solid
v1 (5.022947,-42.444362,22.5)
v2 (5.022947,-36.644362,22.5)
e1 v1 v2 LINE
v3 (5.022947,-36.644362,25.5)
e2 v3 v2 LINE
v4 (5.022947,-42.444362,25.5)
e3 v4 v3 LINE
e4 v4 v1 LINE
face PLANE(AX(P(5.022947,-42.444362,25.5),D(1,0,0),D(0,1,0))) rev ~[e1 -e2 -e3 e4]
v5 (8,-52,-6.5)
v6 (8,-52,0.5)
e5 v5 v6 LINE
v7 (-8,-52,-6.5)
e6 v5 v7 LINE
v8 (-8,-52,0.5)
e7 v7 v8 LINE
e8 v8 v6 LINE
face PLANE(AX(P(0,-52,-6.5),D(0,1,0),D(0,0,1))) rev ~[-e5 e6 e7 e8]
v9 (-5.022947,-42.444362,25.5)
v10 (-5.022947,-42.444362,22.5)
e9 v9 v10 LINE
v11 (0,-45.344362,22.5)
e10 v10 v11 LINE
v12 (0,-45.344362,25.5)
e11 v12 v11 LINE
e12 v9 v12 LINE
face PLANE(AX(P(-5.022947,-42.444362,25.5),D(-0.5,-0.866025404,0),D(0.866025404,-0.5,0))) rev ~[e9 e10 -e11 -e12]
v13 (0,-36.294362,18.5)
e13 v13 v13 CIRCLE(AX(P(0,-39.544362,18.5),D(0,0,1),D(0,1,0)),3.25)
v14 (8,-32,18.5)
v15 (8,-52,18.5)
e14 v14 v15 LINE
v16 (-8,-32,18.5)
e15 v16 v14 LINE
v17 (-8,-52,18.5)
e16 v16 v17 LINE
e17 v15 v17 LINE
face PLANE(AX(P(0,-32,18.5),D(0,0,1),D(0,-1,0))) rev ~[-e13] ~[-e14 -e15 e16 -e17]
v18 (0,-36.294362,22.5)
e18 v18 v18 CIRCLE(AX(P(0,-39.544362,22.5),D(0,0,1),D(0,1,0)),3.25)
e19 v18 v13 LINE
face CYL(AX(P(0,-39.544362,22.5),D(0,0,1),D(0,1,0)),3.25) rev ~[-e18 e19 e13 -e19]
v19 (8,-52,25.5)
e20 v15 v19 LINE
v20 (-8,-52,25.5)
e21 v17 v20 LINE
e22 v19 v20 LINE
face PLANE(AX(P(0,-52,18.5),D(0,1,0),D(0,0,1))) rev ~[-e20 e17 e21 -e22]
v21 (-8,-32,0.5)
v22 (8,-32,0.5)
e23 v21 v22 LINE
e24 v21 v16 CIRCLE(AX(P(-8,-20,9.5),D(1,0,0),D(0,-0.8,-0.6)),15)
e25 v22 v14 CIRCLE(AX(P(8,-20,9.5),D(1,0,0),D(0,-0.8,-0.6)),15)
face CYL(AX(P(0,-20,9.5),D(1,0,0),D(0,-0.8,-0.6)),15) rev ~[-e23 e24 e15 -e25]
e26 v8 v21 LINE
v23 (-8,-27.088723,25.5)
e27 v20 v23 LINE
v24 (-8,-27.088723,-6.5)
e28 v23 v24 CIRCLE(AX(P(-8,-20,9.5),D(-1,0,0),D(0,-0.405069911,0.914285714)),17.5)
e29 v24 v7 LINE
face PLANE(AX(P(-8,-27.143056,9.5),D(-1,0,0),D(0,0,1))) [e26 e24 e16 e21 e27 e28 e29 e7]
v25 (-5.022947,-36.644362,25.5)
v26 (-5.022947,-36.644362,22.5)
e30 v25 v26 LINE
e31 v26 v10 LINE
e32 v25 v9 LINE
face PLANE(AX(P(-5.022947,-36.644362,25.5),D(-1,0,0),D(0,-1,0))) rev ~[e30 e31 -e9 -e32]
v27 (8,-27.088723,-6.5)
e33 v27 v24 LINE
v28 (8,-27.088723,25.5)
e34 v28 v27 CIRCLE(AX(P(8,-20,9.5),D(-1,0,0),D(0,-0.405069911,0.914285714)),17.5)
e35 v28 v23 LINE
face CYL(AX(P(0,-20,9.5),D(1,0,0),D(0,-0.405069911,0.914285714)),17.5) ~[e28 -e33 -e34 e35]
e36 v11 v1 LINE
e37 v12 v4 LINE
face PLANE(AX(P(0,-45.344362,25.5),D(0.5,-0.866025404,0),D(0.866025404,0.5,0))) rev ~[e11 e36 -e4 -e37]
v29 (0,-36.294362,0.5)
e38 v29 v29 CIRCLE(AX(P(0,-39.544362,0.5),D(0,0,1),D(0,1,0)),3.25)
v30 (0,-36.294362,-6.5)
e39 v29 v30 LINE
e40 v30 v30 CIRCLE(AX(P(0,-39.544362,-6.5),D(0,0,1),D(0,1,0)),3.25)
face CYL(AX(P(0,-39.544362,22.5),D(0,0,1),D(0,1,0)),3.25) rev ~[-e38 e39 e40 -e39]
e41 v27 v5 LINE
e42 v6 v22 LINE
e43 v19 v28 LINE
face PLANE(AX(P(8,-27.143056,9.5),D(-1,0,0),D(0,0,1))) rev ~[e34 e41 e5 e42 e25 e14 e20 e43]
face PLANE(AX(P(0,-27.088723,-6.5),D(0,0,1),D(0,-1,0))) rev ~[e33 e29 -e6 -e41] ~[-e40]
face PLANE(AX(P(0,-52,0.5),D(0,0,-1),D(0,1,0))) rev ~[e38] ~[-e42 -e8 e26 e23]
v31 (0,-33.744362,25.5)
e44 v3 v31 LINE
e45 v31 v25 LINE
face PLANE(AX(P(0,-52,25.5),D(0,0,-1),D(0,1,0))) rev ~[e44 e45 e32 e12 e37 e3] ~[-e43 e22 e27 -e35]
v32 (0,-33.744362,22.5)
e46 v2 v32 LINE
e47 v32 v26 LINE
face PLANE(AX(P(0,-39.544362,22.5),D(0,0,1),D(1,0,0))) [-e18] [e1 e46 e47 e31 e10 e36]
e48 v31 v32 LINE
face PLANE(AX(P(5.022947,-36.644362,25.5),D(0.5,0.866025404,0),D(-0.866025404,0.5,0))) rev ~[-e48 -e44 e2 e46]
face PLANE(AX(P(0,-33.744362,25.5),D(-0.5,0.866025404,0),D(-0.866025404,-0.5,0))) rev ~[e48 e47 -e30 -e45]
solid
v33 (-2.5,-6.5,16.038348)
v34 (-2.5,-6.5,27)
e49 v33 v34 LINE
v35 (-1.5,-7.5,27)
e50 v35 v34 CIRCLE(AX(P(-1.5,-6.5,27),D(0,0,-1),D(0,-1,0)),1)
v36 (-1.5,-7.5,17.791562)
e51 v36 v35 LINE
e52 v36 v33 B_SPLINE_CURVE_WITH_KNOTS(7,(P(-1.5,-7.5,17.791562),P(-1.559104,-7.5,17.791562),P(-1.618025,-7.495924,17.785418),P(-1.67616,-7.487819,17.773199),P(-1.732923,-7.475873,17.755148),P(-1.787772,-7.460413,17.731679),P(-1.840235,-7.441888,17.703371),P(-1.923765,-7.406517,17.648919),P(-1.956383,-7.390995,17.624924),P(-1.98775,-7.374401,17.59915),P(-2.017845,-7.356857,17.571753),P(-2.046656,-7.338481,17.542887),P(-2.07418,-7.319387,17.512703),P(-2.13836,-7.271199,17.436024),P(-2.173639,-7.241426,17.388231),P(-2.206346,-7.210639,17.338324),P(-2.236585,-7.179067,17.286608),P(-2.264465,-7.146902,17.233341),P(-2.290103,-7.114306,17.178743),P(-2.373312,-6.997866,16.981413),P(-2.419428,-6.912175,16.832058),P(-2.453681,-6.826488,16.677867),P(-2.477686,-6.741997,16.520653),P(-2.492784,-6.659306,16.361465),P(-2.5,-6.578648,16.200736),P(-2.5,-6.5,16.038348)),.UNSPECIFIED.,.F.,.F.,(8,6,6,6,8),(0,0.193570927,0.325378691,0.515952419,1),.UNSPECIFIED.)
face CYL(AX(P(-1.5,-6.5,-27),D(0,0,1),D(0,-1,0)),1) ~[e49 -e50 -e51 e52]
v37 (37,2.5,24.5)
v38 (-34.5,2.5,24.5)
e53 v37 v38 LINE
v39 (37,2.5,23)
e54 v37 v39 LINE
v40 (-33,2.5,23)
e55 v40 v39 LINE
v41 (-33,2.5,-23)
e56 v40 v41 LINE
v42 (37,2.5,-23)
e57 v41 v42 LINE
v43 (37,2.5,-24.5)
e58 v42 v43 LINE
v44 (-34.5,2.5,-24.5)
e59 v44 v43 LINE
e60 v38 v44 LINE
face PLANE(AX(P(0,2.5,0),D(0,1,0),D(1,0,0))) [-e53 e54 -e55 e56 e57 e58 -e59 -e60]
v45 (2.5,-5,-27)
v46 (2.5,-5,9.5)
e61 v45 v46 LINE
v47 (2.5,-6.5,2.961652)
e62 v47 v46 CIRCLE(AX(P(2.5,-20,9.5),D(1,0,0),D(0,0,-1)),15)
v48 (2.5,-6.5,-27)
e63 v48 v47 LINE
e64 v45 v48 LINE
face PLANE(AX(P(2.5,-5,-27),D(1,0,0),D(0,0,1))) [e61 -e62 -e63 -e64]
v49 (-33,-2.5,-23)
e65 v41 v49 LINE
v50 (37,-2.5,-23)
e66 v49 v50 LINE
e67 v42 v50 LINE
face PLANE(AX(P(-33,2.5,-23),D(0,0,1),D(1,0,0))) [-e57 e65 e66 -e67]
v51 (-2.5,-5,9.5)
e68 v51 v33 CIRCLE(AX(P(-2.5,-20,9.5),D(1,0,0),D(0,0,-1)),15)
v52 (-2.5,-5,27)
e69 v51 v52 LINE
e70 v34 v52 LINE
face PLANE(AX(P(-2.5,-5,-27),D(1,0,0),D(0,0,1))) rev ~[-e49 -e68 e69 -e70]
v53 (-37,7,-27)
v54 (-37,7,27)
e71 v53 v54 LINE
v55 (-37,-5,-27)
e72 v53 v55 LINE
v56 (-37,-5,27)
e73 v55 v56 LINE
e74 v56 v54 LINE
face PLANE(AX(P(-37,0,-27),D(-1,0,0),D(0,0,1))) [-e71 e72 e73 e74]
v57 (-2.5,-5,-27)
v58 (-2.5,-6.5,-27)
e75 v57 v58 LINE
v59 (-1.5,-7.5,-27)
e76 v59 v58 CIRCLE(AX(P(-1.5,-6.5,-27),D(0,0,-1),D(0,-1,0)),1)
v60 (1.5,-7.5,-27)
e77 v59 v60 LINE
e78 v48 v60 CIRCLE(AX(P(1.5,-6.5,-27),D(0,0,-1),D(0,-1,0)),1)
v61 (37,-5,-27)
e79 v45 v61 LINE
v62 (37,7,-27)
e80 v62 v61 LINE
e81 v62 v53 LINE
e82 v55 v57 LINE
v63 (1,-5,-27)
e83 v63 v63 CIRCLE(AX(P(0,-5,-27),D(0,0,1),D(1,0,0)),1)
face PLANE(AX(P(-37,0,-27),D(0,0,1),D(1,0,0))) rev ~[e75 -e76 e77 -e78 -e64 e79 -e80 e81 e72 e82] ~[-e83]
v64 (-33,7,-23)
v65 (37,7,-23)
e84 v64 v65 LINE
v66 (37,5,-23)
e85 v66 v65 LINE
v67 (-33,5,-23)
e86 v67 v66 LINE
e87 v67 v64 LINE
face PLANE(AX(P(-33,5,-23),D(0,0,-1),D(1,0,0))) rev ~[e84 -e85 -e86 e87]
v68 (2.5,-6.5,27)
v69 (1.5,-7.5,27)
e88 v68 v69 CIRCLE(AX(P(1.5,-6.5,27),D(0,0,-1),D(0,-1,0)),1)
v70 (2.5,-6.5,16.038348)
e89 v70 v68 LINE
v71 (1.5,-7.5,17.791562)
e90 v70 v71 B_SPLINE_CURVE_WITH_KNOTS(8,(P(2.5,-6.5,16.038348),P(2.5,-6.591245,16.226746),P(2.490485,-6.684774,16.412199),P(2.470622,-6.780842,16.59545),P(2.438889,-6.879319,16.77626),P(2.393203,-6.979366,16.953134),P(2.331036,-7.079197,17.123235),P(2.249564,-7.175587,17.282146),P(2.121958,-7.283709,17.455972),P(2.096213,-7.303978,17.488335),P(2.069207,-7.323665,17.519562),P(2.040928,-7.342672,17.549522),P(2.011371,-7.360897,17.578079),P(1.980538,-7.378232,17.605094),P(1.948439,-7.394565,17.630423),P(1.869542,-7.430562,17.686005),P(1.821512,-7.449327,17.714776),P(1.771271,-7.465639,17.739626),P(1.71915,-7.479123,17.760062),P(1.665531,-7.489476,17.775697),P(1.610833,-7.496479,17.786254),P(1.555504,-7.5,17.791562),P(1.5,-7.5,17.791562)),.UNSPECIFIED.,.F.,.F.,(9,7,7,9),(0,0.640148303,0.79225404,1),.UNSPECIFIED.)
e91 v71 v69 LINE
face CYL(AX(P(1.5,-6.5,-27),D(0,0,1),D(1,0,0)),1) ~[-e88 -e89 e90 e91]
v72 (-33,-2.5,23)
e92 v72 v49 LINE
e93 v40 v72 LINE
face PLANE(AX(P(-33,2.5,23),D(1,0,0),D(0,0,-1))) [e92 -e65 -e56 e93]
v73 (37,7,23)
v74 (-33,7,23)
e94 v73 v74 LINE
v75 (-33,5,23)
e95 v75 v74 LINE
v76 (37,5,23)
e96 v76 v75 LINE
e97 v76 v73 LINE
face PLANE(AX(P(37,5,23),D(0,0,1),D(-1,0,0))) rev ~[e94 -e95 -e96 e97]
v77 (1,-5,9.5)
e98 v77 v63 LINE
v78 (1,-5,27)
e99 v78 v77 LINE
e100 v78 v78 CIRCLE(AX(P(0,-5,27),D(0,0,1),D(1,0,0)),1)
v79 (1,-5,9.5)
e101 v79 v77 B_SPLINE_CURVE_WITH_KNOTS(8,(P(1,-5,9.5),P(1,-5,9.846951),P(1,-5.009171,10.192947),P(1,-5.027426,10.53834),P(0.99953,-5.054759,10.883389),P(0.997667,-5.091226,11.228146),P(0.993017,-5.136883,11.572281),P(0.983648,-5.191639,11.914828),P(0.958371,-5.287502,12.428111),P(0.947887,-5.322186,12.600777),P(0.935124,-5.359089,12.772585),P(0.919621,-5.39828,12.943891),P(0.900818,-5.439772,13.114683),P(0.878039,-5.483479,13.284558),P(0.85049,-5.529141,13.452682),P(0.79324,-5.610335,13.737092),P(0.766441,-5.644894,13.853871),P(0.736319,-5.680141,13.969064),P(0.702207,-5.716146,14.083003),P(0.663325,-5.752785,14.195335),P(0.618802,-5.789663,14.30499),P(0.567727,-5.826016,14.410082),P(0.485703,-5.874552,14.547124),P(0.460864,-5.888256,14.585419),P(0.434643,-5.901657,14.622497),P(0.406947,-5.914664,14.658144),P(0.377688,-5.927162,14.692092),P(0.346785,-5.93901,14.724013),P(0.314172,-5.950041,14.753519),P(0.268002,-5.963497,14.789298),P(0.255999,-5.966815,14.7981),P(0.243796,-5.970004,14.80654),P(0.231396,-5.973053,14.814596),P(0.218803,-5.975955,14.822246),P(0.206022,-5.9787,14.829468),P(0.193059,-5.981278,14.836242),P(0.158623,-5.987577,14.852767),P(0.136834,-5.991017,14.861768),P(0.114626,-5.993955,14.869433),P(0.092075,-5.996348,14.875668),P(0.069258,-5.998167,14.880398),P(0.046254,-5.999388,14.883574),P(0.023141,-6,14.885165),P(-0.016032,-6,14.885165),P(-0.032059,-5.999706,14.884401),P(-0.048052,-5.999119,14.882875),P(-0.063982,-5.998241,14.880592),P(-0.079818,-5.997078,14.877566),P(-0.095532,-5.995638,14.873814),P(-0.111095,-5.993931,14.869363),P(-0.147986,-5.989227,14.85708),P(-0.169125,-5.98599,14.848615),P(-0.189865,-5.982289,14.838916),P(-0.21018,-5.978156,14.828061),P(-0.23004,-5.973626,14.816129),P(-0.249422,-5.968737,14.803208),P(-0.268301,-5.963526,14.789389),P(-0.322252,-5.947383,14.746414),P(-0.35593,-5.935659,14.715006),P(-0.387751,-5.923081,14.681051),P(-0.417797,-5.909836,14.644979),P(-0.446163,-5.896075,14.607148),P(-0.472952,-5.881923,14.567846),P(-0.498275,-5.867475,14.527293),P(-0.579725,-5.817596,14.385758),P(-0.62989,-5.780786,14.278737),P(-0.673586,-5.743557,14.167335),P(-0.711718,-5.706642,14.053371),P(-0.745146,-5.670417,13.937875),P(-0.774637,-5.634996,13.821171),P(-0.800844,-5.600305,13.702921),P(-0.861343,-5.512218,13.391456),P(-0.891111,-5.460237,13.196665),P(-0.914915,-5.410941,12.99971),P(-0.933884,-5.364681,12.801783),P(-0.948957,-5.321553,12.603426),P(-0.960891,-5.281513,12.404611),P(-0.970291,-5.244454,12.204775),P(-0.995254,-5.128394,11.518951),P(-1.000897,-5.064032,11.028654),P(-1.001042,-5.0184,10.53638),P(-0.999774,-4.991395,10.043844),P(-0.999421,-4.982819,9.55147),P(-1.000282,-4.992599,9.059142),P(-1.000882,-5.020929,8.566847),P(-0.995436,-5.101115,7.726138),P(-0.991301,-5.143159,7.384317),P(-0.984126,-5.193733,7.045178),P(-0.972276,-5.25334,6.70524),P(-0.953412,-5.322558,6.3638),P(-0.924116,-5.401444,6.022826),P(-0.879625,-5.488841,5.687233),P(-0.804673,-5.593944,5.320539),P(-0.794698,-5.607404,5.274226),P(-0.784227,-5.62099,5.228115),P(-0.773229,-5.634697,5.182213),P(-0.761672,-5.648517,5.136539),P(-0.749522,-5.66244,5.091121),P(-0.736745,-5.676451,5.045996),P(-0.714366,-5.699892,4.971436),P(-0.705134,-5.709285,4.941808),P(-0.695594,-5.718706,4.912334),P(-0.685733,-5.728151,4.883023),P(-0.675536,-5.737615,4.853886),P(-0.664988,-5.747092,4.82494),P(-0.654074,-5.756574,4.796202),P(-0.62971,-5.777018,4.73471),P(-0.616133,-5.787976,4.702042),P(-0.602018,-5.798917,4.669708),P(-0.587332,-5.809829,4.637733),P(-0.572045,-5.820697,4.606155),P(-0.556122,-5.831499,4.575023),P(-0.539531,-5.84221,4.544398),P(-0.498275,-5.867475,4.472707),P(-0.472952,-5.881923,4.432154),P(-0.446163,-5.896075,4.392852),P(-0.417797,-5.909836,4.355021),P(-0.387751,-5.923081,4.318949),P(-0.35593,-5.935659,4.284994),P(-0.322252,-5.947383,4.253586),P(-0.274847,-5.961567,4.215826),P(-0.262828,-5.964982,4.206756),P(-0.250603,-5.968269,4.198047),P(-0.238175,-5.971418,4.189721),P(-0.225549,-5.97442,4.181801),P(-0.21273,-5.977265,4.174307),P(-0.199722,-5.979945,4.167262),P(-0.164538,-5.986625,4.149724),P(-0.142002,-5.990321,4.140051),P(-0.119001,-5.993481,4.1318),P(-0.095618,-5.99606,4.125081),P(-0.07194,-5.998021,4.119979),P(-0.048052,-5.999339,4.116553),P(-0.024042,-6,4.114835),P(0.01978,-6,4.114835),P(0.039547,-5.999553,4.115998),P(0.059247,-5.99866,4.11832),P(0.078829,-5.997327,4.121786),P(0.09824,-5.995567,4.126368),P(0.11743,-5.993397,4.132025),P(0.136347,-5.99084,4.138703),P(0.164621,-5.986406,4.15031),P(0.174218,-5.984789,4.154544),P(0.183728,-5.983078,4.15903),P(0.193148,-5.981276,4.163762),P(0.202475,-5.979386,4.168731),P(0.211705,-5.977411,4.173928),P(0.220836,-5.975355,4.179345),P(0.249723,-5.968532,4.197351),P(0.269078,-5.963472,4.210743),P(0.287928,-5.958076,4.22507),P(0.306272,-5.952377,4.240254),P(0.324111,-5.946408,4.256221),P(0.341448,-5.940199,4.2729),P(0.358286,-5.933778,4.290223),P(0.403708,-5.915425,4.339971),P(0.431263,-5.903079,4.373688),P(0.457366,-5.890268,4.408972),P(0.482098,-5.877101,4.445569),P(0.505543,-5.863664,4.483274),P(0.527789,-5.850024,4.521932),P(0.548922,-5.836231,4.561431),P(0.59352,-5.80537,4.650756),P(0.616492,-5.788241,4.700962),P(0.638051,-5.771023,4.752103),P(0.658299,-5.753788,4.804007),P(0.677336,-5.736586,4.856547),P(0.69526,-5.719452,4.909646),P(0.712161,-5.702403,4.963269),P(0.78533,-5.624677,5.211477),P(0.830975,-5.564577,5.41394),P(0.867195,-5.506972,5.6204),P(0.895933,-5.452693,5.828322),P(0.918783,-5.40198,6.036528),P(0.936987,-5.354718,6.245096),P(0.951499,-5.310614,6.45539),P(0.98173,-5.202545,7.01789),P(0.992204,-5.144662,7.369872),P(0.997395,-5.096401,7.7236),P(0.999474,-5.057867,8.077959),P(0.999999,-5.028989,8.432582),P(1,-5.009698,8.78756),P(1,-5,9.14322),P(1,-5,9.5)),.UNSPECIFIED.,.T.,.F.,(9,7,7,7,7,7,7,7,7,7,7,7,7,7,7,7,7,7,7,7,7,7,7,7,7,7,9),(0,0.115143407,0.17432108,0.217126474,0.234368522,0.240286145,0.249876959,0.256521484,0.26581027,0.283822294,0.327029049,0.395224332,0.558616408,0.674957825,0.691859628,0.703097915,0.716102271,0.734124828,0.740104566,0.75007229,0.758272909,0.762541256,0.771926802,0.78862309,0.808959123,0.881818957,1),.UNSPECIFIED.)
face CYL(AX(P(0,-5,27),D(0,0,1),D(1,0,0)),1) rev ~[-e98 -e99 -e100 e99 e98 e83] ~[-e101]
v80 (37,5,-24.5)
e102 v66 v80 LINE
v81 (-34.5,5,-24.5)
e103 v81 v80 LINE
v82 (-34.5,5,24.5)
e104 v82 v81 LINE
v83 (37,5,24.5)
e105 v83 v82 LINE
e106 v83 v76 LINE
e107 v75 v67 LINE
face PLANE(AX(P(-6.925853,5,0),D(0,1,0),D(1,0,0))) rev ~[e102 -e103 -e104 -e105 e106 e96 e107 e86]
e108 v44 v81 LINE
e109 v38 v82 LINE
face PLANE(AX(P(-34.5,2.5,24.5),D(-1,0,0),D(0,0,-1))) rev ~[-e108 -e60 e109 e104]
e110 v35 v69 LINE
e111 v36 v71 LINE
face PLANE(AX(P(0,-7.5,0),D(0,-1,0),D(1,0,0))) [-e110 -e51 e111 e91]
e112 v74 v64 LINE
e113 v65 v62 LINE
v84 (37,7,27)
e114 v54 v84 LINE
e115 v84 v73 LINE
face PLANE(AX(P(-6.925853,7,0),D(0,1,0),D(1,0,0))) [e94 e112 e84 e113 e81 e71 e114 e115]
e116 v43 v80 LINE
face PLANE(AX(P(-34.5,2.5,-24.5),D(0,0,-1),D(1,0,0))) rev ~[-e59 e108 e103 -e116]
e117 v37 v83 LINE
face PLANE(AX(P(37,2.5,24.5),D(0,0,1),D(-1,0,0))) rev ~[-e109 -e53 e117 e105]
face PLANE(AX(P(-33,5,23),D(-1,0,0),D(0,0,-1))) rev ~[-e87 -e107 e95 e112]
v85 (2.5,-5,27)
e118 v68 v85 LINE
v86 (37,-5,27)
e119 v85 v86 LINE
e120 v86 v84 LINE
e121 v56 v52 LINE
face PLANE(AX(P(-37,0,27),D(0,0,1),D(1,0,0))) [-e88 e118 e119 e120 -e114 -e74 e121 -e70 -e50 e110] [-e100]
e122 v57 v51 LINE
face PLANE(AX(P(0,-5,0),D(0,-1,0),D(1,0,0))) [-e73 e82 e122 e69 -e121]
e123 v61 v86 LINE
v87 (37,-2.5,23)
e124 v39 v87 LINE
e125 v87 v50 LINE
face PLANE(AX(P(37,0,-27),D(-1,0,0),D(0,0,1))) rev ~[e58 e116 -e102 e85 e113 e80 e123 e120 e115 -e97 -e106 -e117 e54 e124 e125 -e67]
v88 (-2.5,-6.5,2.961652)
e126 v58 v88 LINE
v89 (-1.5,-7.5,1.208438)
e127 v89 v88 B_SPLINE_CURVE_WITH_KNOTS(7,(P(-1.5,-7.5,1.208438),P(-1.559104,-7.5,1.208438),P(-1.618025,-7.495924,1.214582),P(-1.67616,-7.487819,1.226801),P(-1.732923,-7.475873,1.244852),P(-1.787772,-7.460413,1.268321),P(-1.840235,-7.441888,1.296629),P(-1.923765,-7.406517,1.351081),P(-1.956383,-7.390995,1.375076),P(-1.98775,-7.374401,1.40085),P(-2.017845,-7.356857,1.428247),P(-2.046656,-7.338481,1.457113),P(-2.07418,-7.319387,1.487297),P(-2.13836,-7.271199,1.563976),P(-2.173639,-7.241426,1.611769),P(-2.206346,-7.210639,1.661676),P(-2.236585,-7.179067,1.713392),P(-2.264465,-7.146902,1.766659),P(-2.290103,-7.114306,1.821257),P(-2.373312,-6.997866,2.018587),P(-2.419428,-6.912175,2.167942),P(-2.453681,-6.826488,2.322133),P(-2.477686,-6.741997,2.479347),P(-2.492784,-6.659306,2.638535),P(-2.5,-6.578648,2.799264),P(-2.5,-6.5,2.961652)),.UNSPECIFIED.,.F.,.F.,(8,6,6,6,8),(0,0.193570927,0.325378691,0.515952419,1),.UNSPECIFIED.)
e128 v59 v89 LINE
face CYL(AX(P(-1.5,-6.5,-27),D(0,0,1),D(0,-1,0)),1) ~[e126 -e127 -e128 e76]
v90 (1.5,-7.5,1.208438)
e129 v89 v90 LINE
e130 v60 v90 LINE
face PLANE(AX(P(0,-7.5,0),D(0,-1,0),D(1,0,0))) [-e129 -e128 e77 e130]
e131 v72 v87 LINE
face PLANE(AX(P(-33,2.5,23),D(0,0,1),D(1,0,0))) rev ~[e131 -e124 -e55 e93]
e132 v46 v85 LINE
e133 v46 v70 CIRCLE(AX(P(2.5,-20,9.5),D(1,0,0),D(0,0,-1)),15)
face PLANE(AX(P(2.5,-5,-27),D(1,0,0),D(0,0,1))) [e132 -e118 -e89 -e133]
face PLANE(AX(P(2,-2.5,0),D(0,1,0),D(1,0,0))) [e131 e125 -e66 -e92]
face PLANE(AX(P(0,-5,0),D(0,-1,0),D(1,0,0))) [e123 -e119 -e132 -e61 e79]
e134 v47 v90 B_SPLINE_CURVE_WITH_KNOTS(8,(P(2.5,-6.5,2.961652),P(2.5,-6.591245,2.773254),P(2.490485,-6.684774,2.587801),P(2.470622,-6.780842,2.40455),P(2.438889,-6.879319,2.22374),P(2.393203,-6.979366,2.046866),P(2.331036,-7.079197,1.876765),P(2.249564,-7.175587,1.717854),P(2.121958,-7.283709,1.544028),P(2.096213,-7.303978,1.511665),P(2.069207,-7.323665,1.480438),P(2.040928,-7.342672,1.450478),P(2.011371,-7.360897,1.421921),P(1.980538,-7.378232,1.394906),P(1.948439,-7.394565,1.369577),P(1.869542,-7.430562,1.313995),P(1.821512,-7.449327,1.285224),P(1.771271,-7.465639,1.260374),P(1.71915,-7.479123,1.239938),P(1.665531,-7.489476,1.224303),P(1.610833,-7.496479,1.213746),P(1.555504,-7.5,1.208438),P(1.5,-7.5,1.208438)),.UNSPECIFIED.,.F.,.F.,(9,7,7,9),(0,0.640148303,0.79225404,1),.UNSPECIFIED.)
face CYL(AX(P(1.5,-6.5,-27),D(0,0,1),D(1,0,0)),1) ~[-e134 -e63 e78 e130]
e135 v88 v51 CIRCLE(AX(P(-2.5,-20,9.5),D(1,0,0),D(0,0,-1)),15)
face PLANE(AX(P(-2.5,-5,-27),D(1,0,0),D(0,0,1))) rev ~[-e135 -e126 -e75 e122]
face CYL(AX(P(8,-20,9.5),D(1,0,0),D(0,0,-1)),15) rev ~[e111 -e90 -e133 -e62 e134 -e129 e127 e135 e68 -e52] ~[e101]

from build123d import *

# Parameters (mm, degrees)
CROQUIS1_W              = 74
CROQUIS1_H              = 54
SALIENTE_EXTRUIR1_DEPTH = 2.5
SALIENTE_EXTRUIR2_DEPTH = 2.5
SALIENTE_EXTRUIR3_DEPTH = 2
CROQUIS4_W              = 74
CROQUIS4_H              = 54
SALIENTE_EXTRUIR4_DEPTH = 5
CROQUIS5_W              = 70
CROQUIS5_H              = 46
CORTAR_EXTRUIR1_DEPTH   = 5
CROQUIS6_W              = 5
CROQUIS6_H              = 54
SALIENTE_EXTRUIR5_DEPTH = 2.5
REDONDEO1_R             = 1
CROQUIS7_R              = 1
CORTAR_EXTRUIR2_DEPTH   = 100
SALIENTE_EXTRUIR9_DEPTH = 8
CROQUIS10_R             = 15
CORTAR_EXTRUIR3_DEPTH   = 16
CORTAR_EXTRUIR4_DEPTH   = 3
CROQUIS12_R             = 3.25
CORTAR_EXTRUIR5_DEPTH   = 100


with BuildPart() as part:
    # Croquis1 → Saliente-Extruir1 (new body)
    with BuildSketch(Plane(origin=(0, 0, 0), x_dir=(1, 0, 0), z_dir=(0, 1, 0))):
        Rectangle(CROQUIS1_W, CROQUIS1_H)
    extrude(amount=SALIENTE_EXTRUIR1_DEPTH)

    # Croquis2 → Saliente-Extruir2 (add)
    with BuildSketch(Plane(origin=(0, 2.5, 0), x_dir=(1, 0, 0), z_dir=(0, 1, 0))):
        Polygon((-34.5, 24.5), (34.5, 24.5), (37, 24.5), (37, 27), (-37, 27), (-37, -27), (37, -27), (37, -24.5), (34.5, -24.5), (-34.5, -24.5), align=None)
    extrude(amount=SALIENTE_EXTRUIR2_DEPTH)

    # Croquis3 → Saliente-Extruir3 (add)
    with BuildSketch(Plane(origin=(0, 5, 0), x_dir=(1, 0, 0), z_dir=(0, 1, 0))):
        Polygon((37, 23), (37, 24.5), (-34.5, 24.5), (-34.5, -24.5), (37, -24.5), (37, -23), (33, -23), (-33, -23), (-33, 23), (33, 23), align=None)
        Polygon((37, -27), (37, -24.5), (-34.5, -24.5), (-34.5, 24.5), (37, 24.5), (37, 27), (-37, 27), (-37, -27), align=None)
    extrude(amount=SALIENTE_EXTRUIR3_DEPTH)

    # Croquis4 → Saliente-Extruir4 (add)
    with BuildSketch(Plane.XZ):
        Rectangle(CROQUIS4_W, CROQUIS4_H)
    extrude(amount=SALIENTE_EXTRUIR4_DEPTH)

    # Croquis5 → Cortar-Extruir1 (cut)
    with BuildSketch(Plane(origin=(0, 2.5, 0), x_dir=(1, 0, 0), z_dir=(0, 1, 0))):
        with Locations((2, 0)):
            Rectangle(CROQUIS5_W, CROQUIS5_H)
    extrude(amount=-CORTAR_EXTRUIR1_DEPTH, mode=Mode.SUBTRACT)

    # Croquis6 → Saliente-Extruir5 (add, symmetric)
    with BuildSketch(Plane.XZ.offset(5)):
        Rectangle(CROQUIS6_W, CROQUIS6_H)
    extrude(amount=SALIENTE_EXTRUIR5_DEPTH, both=True)

    # Redondeo1
    redondeo1_edges = [part.edges().sort_by_distance(p)[0] for p in [
        (-2.5, -7.5, 0),
        (2.5, -7.5, 0),
    ]]
    fillet(redondeo1_edges, radius=REDONDEO1_R)

    # Croquis7 → Cortar-Extruir2 (cut)
    with BuildSketch(Plane.XY.offset(27)):
        with Locations((0, -5)):
            Circle(CROQUIS7_R)
    extrude(amount=-CORTAR_EXTRUIR2_DEPTH, mode=Mode.SUBTRACT)

    # Croquis10 → Cortar-Extruir3 (cut)
    with BuildSketch(Plane(origin=(8, 0, 0), x_dir=(0, 0, -1), z_dir=(1, 0, 0))):
        with Locations((-9.5, -20)):
            Circle(CROQUIS10_R)
    extrude(amount=-CORTAR_EXTRUIR3_DEPTH, mode=Mode.SUBTRACT)


with BuildPart() as body_2:
    # Croquis9 → Saliente-Extruir9 (new, symmetric)
    with BuildSketch(Plane(origin=(0, 0, 0), x_dir=(0, 0, -1), z_dir=(1, 0, 0))):
        with BuildLine():
            Line((-18.5, -32), (-18.5, -52))
            Line((-18.5, -52), (-25.5, -52))
            Line((-25.5, -52), (-25.5, -27.088723439))
            ThreePointArc((-25.5, -27.088723439), (-9.5, -2.5), (6.5, -27.088723439))
            Line((6.5, -27.088723439), (6.5, -52))
            Line((6.5, -52), (-0.5, -52))
            Line((-0.5, -52), (-0.5, -32))
            ThreePointArc((-0.5, -32), (-9.5, -5), (-18.5, -32))
        make_face()
    extrude(amount=SALIENTE_EXTRUIR9_DEPTH, both=True)

    # Croquis11 → Cortar-Extruir4 (cut)
    with BuildSketch(Plane.XY.offset(25.5)):
        Polygon((0, -45.34436172), (5.022947342, -42.44436172), (5.022947342, -36.64436172), (0, -33.74436172), (-5.022947342, -36.64436172), (-5.022947342, -42.44436172), align=None)
    extrude(amount=-CORTAR_EXTRUIR4_DEPTH, mode=Mode.SUBTRACT)

    # Croquis12 → Cortar-Extruir5 (cut)
    with BuildSketch(Plane.XY.offset(22.5)):
        with Locations(Location((0, -39.54436172, 0), (0, 0, 90))):
            Circle(CROQUIS12_R)
    extrude(amount=-CORTAR_EXTRUIR5_DEPTH, mode=Mode.SUBTRACT)


solid = Compound([part.part, body_2.part])
